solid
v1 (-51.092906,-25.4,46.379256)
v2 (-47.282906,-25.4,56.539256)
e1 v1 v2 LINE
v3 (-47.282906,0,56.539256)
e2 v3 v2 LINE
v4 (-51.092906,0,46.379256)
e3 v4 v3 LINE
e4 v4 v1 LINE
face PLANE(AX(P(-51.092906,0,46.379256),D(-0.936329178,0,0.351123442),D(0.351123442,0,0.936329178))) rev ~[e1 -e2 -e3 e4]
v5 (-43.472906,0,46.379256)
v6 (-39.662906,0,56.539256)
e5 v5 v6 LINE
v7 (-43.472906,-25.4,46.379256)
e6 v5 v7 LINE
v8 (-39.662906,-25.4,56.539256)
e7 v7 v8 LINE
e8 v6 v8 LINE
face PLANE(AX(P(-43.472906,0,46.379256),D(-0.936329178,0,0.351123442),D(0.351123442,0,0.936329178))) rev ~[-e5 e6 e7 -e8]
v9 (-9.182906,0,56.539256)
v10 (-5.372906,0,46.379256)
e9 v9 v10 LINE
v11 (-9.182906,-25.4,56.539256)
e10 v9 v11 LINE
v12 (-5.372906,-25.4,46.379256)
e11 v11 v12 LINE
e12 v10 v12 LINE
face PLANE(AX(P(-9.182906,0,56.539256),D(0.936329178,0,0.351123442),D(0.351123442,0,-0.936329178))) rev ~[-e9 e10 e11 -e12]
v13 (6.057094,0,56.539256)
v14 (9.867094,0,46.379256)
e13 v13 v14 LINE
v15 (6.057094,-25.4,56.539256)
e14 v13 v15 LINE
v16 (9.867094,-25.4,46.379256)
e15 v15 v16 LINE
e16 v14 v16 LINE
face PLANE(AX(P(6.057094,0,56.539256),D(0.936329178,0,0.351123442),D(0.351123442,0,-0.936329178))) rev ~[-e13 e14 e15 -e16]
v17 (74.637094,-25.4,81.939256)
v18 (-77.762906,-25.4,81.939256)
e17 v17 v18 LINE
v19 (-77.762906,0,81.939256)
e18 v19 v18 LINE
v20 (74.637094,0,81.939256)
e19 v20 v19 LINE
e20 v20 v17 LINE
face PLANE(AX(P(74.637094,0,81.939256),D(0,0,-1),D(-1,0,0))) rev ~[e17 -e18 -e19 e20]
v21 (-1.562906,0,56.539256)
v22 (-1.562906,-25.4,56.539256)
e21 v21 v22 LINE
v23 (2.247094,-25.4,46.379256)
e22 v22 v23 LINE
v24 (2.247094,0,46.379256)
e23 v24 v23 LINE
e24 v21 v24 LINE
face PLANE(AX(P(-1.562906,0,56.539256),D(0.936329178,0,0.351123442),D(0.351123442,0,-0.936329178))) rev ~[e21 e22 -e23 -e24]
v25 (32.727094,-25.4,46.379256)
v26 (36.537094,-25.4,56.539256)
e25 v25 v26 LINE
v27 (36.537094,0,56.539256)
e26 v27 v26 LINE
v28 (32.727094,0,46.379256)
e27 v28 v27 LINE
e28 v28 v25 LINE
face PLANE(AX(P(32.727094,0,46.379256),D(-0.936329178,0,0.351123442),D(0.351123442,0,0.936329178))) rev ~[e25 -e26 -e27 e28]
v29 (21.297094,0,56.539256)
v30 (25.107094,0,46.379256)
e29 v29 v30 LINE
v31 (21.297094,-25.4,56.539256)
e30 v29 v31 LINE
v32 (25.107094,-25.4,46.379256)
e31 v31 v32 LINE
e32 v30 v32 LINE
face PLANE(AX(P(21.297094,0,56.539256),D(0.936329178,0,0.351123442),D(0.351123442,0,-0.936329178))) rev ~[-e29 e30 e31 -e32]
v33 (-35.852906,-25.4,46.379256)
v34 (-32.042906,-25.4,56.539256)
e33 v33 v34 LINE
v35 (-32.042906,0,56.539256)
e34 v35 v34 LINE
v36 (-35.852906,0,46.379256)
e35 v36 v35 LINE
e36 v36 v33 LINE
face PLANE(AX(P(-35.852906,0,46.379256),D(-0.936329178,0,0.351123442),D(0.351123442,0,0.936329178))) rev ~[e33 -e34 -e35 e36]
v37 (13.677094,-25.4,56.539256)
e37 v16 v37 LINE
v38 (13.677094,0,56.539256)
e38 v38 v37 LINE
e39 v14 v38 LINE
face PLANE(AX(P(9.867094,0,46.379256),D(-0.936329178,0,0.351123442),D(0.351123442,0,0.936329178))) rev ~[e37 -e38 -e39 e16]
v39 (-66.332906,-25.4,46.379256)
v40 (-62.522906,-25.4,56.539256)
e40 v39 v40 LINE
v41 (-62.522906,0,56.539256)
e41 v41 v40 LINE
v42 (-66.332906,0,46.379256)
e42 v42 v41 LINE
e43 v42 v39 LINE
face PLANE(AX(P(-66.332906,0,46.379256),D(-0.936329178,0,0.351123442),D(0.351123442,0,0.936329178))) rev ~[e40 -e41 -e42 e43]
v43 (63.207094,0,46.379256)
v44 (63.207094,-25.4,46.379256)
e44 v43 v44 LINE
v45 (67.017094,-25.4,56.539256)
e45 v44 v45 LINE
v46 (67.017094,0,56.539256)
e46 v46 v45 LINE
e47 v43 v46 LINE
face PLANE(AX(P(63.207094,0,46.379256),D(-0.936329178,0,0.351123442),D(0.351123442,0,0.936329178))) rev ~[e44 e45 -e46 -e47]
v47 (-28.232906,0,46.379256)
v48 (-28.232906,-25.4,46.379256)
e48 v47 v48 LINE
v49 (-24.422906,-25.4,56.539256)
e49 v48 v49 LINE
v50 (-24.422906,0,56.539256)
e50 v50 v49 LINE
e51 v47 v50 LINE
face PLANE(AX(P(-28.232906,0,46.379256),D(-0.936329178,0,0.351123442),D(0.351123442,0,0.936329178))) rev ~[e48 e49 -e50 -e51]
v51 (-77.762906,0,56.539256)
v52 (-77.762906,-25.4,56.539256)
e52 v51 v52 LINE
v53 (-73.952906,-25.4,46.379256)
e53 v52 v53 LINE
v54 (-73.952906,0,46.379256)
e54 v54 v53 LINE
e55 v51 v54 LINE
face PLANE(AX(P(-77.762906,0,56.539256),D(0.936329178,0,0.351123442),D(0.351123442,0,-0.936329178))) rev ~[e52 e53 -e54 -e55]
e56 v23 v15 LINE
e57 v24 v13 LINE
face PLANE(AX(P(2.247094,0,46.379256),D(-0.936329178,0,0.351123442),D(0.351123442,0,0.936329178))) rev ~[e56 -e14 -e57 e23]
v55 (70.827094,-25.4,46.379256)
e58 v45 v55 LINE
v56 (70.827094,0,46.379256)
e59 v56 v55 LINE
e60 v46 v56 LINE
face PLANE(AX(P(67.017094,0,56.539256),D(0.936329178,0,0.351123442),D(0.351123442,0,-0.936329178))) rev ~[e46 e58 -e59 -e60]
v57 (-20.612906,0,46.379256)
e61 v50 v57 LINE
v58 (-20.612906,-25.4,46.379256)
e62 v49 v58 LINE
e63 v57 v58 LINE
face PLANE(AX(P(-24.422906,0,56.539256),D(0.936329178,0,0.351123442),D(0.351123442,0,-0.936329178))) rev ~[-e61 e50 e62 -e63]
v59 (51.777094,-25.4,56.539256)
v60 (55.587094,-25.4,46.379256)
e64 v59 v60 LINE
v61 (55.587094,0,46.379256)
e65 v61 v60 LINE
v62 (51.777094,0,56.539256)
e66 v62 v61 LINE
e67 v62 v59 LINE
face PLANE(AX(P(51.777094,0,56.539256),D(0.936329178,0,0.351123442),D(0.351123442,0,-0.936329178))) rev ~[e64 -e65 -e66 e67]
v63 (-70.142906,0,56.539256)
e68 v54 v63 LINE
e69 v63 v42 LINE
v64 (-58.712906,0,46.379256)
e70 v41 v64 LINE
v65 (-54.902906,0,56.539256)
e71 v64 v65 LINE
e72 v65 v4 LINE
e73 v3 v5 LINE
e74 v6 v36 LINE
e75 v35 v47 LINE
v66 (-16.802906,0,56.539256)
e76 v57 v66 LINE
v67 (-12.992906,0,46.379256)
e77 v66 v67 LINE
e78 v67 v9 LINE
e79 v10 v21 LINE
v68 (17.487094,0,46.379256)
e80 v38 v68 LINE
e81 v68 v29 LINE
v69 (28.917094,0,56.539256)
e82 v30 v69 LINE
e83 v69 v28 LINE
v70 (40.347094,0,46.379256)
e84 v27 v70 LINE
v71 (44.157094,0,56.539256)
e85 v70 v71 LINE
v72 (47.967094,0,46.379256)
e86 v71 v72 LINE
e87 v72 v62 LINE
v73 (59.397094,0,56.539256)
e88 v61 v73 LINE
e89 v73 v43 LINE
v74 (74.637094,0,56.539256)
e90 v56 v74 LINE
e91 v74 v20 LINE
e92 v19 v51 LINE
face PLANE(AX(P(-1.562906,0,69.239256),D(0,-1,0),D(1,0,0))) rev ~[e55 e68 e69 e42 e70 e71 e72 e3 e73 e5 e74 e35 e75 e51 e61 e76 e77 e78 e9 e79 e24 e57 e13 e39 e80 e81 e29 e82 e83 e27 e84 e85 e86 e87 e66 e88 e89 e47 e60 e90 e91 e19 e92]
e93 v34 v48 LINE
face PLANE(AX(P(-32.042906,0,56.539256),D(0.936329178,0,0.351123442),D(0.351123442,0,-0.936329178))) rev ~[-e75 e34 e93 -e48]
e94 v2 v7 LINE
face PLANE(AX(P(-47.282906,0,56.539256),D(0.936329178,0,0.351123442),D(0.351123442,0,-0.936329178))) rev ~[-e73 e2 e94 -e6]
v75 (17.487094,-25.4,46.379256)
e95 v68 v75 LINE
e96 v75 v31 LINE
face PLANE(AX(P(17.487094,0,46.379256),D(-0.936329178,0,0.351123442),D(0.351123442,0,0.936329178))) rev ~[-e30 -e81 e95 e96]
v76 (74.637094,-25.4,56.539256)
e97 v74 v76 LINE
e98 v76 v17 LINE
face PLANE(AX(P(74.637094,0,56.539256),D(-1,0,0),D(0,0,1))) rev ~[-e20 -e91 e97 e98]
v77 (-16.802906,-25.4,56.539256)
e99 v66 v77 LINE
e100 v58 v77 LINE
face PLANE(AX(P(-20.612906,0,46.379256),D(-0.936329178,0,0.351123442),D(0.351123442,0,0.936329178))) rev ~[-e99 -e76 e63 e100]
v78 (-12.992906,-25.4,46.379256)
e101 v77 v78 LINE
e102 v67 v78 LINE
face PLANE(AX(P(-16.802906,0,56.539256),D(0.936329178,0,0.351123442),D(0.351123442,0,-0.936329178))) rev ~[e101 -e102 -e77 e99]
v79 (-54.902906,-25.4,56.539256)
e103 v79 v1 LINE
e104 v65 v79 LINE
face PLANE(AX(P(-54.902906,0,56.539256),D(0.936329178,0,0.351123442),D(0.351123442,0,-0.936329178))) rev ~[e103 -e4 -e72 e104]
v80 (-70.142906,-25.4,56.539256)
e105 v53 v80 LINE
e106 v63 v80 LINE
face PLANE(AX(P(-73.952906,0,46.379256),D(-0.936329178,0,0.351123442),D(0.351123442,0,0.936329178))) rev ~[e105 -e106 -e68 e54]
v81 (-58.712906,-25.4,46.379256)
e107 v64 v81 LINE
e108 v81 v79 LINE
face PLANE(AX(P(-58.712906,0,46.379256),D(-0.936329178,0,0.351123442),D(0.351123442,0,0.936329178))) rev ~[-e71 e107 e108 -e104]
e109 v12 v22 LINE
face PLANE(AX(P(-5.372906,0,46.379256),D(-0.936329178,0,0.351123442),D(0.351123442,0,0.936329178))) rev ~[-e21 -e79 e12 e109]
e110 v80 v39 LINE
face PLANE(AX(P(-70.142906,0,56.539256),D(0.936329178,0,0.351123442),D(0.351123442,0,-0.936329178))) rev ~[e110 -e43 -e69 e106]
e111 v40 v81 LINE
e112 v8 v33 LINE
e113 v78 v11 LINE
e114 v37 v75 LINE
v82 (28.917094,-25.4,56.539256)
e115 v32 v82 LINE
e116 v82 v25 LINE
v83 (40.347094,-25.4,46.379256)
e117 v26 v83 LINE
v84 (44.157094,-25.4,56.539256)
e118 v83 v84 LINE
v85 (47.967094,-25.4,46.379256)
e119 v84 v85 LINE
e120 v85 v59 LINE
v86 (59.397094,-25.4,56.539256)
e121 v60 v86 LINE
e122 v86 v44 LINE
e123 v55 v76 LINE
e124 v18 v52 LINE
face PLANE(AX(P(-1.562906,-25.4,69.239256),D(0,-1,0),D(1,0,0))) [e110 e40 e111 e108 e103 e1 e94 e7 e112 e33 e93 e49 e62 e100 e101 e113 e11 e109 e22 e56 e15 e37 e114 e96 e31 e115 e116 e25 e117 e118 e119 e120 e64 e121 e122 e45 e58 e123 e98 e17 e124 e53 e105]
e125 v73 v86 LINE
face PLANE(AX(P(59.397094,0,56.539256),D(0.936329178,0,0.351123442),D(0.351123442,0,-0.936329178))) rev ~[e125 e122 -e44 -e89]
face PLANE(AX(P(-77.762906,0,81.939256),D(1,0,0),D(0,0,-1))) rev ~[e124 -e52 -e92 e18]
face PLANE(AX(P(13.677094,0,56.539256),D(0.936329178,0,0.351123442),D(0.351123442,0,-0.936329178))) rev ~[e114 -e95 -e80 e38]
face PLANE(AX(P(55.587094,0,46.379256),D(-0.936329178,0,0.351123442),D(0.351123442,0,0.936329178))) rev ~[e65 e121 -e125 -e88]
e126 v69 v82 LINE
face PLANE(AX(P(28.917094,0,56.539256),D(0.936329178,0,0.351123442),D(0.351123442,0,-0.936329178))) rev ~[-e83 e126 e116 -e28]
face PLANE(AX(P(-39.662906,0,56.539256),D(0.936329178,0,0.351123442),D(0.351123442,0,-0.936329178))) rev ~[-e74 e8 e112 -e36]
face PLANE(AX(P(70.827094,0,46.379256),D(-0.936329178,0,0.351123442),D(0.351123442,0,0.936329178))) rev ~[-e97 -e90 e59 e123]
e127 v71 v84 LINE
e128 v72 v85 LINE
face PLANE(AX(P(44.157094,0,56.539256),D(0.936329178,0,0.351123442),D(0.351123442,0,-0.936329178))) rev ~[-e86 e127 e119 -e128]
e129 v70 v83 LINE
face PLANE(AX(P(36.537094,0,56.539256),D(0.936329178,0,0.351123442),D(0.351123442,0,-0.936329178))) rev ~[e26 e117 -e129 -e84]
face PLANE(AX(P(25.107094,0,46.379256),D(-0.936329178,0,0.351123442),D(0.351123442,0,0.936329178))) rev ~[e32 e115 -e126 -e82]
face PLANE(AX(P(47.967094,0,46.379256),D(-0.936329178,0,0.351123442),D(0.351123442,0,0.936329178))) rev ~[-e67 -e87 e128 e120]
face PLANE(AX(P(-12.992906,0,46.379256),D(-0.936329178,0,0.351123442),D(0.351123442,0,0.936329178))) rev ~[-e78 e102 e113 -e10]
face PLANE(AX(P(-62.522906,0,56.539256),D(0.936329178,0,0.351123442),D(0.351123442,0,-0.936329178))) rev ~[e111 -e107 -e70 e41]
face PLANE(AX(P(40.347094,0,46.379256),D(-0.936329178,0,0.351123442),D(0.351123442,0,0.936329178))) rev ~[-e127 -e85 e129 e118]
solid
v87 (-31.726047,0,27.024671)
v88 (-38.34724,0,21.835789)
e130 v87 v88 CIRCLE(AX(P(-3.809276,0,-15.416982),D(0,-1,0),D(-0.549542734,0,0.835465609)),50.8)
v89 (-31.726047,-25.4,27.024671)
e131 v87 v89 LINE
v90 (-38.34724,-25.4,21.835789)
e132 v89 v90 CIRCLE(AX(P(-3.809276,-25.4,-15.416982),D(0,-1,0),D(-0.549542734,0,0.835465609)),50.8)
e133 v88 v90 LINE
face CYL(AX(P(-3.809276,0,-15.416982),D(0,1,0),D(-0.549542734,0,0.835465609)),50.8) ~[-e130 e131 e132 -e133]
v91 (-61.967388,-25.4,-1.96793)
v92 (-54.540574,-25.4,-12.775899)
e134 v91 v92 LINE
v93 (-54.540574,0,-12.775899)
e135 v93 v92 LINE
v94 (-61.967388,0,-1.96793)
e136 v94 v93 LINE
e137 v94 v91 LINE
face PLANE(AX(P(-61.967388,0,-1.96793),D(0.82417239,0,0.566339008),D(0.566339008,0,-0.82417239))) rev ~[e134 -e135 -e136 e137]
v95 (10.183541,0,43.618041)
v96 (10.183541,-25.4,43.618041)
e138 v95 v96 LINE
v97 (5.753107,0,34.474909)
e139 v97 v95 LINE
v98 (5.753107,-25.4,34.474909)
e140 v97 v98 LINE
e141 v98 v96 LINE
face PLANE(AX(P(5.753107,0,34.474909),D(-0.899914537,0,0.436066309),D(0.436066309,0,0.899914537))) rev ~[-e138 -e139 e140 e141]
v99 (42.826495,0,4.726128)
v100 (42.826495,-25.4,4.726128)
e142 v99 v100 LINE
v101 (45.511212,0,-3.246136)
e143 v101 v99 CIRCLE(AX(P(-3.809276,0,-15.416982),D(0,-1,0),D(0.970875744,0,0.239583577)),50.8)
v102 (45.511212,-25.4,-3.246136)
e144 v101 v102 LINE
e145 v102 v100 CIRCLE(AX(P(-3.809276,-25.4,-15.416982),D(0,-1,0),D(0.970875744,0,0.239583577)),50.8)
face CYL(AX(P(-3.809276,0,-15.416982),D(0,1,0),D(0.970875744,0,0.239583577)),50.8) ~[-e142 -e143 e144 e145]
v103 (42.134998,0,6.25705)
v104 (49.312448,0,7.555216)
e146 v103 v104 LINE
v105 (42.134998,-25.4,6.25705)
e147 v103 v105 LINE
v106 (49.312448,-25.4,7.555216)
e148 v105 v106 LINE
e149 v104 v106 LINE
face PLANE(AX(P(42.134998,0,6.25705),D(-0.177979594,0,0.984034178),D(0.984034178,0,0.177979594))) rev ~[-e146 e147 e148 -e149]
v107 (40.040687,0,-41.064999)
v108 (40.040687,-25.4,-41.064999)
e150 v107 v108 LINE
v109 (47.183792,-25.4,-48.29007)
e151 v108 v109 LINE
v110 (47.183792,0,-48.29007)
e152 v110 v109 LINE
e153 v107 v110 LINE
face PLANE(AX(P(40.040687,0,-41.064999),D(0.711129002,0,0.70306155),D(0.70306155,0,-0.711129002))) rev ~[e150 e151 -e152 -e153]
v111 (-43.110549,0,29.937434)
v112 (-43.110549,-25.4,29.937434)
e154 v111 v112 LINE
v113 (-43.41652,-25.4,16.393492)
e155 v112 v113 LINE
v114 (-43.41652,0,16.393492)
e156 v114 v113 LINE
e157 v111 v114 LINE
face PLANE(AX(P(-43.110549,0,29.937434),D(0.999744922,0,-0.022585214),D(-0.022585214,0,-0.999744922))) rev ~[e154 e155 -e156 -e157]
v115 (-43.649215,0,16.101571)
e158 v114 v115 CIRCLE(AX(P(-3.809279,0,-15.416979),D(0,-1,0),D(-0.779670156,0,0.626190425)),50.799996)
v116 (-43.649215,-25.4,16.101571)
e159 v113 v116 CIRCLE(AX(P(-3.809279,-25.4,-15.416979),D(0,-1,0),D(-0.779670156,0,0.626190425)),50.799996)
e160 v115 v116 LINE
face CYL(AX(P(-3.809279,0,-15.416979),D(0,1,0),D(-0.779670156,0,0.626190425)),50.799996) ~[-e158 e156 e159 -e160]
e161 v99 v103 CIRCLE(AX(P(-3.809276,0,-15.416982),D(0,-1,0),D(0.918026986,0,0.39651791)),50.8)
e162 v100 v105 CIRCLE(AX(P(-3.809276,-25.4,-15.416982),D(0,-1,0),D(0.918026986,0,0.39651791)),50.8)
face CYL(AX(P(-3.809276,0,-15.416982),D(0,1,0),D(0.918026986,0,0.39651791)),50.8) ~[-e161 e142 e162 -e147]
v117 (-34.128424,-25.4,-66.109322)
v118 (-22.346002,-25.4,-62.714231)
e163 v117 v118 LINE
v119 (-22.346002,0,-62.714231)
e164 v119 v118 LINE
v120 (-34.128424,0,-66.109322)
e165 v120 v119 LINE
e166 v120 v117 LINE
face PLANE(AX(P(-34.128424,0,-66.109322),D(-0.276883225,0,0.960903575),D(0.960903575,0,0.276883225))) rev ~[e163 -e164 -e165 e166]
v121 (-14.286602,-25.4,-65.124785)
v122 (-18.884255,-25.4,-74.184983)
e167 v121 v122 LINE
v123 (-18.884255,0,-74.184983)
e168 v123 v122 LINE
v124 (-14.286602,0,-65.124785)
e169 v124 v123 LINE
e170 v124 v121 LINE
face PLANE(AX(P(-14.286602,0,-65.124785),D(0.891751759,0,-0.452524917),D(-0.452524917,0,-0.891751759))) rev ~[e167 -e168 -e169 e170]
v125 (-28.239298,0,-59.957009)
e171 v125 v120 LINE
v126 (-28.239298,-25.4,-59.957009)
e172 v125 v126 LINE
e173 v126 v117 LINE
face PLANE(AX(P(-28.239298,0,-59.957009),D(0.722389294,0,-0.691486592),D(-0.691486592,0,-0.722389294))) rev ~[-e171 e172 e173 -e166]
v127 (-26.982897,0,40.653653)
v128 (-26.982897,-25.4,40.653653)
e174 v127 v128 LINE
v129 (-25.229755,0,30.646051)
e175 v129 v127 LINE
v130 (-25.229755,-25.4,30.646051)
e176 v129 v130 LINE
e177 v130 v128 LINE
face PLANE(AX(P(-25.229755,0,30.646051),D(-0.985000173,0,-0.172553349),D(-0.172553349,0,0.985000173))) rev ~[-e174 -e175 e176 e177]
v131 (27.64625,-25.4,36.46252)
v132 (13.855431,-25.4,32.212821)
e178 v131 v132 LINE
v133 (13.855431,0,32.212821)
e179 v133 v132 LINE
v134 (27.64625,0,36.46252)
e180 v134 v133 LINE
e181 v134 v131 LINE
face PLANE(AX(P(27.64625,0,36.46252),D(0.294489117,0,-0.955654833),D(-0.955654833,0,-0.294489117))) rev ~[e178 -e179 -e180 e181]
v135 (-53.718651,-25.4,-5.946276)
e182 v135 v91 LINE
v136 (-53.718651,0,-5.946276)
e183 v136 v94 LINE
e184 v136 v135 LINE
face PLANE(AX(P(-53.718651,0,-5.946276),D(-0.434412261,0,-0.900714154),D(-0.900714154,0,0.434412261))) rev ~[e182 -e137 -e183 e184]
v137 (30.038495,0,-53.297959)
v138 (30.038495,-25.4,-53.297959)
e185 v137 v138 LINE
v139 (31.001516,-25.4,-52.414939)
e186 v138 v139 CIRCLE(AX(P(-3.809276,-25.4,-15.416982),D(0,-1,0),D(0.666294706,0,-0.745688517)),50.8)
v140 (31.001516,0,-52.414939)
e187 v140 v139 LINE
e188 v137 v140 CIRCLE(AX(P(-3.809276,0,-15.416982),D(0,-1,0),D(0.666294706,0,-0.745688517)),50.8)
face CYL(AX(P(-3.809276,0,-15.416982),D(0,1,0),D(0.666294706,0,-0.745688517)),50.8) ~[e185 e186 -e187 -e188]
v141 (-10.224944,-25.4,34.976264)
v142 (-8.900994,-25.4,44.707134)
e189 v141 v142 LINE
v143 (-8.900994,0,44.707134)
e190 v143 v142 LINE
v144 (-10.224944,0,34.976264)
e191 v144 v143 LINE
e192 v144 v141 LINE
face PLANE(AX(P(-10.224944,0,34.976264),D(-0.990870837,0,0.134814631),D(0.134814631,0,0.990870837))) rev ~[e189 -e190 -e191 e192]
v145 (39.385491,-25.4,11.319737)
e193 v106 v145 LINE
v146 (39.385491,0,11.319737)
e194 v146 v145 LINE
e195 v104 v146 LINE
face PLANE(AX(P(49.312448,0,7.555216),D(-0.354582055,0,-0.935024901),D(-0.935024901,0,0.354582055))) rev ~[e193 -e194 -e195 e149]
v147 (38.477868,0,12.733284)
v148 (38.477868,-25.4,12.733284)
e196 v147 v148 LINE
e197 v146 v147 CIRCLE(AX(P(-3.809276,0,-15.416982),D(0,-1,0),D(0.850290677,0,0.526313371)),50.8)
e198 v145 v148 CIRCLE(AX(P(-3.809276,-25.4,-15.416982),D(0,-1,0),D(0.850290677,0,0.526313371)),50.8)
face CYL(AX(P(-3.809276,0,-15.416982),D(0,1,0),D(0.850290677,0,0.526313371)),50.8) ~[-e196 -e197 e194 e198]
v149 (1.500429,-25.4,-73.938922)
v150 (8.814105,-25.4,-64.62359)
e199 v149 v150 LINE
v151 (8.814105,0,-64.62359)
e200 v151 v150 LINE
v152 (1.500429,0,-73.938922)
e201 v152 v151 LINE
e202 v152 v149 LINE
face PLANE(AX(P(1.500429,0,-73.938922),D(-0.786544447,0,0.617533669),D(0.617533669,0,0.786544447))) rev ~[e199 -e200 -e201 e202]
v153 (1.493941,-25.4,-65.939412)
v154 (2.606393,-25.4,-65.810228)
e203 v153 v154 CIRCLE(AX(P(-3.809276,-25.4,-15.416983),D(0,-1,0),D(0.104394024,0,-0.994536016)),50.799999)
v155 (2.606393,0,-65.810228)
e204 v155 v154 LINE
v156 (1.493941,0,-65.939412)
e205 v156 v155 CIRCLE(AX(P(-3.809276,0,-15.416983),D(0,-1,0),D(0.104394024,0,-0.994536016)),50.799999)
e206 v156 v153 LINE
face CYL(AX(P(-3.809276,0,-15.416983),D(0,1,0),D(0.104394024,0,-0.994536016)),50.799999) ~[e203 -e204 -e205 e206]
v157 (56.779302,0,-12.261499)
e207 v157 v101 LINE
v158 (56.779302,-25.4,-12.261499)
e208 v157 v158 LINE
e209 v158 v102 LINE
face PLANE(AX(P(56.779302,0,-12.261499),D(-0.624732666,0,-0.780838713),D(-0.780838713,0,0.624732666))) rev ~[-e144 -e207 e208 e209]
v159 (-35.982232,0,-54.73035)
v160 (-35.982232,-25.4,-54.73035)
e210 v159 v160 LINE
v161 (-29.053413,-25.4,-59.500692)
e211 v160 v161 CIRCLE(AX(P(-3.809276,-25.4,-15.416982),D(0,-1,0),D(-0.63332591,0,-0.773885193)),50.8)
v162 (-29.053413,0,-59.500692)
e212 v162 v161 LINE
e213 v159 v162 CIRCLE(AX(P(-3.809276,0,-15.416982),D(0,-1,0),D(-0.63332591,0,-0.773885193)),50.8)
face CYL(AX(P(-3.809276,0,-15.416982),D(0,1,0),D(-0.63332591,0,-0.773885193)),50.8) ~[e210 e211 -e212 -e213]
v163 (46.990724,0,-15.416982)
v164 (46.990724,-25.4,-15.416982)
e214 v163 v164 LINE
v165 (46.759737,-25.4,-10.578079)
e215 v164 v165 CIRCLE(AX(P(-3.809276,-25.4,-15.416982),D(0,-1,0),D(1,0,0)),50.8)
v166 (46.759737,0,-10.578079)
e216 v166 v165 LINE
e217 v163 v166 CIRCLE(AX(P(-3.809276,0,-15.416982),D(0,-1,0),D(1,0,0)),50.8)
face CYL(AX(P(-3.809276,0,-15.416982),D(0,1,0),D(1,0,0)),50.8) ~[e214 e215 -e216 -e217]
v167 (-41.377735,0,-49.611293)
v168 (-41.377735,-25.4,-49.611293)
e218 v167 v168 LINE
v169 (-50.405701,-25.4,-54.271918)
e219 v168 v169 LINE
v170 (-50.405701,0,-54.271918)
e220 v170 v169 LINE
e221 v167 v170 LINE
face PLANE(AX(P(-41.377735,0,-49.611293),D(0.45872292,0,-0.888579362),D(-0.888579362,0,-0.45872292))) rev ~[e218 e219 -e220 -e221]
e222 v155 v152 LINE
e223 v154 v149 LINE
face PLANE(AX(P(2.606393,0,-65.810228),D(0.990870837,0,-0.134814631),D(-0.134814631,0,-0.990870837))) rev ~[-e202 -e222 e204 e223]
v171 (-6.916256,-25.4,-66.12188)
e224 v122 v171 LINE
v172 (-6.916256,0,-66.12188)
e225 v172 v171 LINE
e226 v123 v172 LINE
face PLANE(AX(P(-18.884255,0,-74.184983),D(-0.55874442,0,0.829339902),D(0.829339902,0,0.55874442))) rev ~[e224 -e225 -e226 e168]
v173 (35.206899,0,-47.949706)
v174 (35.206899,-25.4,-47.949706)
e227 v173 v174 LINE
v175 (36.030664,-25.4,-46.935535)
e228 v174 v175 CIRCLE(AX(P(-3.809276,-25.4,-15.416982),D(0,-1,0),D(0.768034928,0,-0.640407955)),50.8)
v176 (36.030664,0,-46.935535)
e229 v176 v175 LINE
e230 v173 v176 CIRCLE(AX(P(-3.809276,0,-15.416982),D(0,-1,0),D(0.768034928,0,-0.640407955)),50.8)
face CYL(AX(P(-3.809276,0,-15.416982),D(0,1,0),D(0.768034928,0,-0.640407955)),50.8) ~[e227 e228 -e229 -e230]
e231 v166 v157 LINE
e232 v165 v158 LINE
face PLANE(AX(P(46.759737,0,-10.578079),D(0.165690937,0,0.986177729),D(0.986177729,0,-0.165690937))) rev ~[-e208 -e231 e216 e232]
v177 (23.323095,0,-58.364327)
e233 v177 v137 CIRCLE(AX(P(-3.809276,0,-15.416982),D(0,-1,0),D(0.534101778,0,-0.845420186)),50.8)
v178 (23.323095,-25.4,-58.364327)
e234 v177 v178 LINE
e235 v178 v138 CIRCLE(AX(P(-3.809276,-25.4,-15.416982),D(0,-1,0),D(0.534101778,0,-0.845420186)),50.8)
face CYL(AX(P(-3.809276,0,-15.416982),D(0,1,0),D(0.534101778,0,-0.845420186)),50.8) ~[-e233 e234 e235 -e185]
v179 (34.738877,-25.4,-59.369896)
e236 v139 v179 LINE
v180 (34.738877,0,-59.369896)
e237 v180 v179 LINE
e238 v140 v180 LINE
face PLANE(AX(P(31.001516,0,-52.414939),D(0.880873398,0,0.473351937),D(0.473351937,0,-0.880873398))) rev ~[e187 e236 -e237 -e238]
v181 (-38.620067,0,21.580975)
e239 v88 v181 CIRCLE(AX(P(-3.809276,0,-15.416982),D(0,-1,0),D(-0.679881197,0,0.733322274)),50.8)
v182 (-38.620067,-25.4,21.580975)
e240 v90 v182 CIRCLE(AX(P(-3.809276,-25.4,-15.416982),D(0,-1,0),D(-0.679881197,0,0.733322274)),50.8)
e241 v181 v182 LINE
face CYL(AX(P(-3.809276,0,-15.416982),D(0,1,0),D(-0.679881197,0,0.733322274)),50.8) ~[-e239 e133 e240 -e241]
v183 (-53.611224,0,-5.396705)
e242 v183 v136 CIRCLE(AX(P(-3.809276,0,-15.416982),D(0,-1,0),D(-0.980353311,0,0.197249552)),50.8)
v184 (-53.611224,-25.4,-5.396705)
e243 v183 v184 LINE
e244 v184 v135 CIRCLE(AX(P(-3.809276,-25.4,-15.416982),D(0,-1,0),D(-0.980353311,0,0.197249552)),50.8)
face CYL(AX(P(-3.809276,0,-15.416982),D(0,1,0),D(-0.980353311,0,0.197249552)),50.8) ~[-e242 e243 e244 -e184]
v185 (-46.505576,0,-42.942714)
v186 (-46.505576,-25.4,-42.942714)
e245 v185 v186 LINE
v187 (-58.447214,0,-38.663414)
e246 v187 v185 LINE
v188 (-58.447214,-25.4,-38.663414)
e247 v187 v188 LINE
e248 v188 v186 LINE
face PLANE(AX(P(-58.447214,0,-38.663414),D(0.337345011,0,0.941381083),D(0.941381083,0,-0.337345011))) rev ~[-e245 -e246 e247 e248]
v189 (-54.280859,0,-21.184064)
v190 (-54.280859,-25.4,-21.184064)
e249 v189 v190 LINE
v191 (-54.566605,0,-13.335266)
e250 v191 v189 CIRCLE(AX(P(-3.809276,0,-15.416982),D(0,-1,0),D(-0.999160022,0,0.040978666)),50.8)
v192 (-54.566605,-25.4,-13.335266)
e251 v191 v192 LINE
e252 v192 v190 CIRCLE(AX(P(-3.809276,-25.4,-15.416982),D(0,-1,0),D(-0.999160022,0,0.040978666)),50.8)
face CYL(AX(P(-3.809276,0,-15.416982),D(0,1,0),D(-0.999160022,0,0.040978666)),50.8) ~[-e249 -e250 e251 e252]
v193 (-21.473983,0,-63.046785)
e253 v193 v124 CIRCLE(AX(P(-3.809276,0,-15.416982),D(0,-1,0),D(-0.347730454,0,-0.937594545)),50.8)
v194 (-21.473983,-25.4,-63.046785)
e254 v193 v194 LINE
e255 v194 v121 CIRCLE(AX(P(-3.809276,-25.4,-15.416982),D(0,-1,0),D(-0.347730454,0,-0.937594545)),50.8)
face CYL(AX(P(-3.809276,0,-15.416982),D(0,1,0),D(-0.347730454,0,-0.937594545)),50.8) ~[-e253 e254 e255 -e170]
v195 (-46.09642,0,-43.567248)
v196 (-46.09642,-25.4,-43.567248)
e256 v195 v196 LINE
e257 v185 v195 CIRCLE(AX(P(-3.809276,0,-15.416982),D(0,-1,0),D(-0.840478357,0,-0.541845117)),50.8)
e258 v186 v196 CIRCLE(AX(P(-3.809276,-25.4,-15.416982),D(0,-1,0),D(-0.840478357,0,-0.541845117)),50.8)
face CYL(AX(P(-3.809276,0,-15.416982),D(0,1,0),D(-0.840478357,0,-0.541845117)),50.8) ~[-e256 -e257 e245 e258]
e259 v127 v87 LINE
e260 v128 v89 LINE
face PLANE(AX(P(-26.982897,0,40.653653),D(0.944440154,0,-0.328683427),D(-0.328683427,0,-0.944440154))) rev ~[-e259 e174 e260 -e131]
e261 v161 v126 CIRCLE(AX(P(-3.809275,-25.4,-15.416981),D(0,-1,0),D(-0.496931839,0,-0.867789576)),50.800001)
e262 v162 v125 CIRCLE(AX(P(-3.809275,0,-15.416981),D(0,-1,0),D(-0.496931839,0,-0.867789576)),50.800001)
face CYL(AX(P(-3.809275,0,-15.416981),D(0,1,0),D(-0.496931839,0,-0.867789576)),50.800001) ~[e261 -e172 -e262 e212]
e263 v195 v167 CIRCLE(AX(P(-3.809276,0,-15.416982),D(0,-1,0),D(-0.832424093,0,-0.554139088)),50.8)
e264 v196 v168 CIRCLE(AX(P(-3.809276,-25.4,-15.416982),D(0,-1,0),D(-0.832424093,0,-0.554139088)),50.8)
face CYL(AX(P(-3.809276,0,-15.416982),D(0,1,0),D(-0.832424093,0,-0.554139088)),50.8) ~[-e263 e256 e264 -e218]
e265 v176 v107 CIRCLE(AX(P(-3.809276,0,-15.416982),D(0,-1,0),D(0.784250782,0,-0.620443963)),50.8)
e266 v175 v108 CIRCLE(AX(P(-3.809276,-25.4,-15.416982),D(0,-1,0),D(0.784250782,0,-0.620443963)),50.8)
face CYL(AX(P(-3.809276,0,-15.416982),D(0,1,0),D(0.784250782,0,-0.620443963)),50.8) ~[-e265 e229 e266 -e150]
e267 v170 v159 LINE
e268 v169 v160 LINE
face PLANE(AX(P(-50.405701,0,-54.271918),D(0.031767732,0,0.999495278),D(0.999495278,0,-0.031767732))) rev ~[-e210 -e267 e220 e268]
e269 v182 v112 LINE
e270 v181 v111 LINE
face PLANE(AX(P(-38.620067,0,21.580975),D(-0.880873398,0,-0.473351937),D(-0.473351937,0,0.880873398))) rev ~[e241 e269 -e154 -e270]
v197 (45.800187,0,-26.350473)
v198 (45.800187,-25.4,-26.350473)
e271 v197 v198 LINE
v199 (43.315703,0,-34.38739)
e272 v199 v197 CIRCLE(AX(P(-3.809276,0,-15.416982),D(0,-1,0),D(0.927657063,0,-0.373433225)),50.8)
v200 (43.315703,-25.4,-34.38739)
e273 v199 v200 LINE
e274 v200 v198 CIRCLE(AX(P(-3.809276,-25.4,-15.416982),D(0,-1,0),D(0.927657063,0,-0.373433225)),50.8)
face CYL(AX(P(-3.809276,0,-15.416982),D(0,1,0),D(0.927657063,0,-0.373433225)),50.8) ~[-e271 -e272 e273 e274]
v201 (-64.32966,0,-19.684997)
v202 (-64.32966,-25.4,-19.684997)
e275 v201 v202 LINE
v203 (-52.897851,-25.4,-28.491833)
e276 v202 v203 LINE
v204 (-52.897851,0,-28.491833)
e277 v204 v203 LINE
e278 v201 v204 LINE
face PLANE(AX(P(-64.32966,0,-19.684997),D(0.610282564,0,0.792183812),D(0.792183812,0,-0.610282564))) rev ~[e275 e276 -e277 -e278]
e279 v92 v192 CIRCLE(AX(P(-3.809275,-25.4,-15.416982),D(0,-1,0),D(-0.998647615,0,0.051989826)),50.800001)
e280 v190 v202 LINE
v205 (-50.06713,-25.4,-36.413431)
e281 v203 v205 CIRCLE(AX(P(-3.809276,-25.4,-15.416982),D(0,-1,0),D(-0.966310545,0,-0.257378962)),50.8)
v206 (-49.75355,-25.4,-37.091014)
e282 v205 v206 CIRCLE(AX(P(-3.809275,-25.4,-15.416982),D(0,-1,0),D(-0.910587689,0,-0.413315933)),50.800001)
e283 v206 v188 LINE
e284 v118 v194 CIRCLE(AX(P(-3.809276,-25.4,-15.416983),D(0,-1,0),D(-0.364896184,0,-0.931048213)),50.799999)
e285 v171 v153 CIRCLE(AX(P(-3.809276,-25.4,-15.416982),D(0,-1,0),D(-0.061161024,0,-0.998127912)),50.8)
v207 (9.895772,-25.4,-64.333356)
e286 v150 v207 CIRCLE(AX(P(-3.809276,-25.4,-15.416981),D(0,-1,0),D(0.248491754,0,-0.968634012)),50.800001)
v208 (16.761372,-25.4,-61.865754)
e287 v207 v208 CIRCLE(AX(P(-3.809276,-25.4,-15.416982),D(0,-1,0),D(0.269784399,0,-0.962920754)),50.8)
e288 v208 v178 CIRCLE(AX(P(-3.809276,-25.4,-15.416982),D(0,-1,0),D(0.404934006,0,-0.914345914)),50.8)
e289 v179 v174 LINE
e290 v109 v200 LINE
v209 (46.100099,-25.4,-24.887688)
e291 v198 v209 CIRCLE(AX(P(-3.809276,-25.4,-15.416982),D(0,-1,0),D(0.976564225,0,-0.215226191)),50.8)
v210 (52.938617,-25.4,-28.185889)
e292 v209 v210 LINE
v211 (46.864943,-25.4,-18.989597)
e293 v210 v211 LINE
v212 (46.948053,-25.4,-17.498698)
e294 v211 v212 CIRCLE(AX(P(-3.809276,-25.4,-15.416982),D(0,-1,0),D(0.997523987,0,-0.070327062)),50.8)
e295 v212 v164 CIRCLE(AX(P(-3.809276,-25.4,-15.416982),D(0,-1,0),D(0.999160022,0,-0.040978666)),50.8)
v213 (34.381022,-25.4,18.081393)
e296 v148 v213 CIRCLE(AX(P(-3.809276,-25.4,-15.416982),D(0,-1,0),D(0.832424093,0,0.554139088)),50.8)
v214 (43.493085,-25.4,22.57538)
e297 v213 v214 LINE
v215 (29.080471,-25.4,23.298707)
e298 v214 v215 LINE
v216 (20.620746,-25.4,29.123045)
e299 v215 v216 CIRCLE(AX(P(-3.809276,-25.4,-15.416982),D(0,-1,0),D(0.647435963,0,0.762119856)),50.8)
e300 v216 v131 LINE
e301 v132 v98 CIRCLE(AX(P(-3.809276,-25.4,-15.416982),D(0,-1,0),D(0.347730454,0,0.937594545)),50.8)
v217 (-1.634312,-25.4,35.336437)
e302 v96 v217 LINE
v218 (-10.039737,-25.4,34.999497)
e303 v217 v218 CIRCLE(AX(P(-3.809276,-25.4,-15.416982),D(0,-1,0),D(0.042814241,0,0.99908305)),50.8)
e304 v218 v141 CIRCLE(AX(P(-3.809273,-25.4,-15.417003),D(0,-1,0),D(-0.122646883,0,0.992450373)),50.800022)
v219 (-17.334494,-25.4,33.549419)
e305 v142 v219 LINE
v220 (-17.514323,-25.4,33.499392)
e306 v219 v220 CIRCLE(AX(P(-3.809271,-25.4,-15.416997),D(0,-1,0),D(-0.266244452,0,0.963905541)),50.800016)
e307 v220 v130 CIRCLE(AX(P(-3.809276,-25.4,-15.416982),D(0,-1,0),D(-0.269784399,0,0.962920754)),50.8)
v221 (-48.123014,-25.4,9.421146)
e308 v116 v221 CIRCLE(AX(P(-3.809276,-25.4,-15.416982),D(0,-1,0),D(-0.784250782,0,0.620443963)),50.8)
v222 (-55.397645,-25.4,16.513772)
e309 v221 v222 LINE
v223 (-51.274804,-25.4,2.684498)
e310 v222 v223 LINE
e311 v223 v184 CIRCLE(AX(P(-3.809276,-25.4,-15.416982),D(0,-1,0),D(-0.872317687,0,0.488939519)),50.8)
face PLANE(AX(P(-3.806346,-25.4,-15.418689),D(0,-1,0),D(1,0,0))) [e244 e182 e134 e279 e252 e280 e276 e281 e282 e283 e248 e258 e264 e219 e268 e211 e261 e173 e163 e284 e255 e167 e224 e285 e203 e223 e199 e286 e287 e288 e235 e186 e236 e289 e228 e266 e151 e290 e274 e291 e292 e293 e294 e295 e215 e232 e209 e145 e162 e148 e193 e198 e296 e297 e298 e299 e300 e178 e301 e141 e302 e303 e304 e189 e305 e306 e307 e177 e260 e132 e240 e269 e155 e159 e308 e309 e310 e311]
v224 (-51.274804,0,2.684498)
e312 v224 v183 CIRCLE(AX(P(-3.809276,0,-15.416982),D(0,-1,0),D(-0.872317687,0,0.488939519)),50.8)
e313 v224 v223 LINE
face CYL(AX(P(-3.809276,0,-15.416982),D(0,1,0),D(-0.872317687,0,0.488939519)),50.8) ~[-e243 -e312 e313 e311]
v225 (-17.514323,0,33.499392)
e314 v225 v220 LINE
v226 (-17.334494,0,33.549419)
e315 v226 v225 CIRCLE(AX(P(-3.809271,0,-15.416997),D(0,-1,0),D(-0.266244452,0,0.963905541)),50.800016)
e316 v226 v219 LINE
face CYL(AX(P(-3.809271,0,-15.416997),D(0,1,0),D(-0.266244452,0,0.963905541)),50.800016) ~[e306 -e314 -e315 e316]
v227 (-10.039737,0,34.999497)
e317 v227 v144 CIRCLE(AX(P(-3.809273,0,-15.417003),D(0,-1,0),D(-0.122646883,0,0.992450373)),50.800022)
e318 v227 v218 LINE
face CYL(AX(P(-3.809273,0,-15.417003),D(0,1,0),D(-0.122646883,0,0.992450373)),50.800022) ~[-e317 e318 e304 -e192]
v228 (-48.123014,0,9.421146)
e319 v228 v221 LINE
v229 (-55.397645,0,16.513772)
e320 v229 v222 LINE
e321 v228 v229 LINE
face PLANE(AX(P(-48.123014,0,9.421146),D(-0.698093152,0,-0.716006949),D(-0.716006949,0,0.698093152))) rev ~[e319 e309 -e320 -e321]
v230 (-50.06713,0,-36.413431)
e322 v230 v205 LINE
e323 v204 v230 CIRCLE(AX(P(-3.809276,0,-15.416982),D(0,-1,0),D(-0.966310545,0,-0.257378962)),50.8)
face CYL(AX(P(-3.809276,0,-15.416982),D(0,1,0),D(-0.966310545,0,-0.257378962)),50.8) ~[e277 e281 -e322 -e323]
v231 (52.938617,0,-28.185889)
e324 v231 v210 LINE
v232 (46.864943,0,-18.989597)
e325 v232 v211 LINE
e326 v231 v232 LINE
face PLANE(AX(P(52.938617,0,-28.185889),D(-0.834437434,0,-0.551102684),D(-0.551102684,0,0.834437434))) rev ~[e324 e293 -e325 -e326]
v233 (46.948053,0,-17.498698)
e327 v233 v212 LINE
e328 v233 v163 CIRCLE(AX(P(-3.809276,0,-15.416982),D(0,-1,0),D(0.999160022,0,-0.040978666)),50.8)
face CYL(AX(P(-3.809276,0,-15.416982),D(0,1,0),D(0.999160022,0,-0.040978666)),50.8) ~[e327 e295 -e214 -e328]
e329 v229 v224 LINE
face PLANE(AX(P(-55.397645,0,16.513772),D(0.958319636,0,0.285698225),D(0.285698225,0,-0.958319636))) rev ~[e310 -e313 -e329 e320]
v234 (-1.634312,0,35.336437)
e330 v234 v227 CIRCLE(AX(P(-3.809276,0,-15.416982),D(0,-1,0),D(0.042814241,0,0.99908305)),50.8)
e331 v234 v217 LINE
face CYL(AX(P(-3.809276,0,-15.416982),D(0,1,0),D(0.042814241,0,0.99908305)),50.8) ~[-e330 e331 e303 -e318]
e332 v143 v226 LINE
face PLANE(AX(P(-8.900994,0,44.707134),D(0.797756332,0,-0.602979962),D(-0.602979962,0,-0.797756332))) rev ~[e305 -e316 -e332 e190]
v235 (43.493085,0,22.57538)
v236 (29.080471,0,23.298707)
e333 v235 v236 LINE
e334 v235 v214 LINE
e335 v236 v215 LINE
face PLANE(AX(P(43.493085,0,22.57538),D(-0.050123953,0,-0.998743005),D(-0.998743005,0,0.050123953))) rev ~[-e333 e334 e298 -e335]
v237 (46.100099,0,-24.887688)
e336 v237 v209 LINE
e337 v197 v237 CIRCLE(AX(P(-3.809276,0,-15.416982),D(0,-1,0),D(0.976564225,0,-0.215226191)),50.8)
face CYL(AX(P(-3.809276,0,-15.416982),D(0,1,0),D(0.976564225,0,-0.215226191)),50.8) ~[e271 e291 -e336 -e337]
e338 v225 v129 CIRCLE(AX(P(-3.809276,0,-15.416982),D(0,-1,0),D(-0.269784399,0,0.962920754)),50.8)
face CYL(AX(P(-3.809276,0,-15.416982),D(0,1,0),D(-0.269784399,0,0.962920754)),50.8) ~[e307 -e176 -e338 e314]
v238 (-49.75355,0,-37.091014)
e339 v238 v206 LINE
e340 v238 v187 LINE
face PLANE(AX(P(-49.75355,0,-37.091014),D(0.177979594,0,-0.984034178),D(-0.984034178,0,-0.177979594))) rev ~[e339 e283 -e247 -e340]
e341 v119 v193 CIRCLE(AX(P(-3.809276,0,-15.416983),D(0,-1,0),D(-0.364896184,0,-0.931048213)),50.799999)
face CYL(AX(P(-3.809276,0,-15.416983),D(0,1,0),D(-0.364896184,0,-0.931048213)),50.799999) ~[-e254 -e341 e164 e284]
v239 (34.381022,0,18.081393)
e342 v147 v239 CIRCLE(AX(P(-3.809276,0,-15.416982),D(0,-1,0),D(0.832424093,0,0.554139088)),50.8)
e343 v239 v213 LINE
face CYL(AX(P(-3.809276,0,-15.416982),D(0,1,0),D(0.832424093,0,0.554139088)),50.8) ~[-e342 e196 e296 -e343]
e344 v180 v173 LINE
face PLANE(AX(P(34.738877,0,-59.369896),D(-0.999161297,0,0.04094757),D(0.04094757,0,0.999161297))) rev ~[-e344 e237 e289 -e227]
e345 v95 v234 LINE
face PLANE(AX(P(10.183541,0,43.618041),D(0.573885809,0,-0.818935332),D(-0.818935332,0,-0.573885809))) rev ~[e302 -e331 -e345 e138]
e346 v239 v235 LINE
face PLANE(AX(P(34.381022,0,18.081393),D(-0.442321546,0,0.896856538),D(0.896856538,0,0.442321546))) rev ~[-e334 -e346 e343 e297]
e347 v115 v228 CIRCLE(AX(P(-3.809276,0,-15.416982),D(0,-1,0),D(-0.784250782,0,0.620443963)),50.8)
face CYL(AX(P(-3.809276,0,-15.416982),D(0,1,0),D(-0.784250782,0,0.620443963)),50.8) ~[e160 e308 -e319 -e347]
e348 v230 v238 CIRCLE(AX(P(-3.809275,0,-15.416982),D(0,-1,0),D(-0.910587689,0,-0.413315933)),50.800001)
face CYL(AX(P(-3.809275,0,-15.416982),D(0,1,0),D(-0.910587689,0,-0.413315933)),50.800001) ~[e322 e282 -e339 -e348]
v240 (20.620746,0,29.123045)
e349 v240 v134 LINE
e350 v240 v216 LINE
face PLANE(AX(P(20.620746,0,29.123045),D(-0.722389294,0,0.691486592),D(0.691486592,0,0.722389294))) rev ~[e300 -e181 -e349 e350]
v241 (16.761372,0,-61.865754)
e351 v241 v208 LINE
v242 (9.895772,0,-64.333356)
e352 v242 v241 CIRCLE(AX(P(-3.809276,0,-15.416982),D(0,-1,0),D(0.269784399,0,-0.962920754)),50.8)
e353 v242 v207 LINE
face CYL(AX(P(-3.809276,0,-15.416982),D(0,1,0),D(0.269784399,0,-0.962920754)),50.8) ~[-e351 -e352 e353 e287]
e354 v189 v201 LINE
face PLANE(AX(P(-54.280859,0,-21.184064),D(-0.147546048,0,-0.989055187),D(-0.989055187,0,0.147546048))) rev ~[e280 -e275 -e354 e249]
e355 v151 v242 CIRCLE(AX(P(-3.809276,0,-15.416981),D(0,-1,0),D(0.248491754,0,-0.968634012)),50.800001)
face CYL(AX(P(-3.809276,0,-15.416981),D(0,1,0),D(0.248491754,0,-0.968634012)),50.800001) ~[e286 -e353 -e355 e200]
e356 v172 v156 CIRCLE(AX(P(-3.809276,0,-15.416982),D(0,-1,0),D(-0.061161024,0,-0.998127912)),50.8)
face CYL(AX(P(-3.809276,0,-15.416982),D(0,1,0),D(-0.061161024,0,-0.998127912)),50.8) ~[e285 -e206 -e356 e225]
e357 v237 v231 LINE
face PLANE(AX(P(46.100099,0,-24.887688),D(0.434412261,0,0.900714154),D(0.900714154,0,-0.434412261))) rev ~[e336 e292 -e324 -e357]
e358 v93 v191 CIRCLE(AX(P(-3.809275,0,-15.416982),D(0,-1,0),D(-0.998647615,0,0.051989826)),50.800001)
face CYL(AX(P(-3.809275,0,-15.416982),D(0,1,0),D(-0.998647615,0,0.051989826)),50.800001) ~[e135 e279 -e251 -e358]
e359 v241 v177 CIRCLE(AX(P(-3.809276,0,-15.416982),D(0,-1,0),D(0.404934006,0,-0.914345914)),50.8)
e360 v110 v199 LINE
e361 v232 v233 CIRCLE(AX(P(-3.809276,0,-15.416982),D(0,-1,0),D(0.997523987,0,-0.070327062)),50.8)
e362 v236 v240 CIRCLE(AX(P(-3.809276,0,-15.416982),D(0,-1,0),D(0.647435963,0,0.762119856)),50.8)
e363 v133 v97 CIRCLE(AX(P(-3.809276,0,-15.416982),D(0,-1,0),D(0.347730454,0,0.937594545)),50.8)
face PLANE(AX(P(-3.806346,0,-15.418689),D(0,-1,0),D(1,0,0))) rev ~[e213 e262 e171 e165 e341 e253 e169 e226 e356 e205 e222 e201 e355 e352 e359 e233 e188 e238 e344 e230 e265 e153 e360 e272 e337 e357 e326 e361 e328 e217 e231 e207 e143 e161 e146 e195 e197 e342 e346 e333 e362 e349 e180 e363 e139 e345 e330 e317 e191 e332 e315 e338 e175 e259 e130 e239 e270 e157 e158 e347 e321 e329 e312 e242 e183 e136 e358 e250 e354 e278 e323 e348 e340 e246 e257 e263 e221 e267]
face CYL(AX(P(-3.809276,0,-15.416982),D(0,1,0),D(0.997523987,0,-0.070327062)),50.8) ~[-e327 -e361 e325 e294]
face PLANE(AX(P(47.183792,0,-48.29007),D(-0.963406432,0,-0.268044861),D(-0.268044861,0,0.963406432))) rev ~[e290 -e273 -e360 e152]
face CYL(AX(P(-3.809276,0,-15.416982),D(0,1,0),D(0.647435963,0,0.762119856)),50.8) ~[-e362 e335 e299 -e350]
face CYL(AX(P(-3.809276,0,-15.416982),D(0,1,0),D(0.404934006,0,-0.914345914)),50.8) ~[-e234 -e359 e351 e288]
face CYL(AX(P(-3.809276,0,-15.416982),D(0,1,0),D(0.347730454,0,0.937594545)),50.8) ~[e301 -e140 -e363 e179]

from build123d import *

# Parameters (mm, degrees)
F1_DEPTH = 25.4
F3_DEPTH = 25.4


with BuildPart() as f1:
    # F0 (on Front) → F1 (new body)
    with BuildSketch(Plane.XZ):
        Polygon((74.6370935708, 81.9392564637), (-77.7629064292, 81.9392564637), (-77.7629064292, 56.5392564637), (-70.1429064292, 56.5392564637), (-62.5229064292, 56.5392564637), (-54.9029064292, 56.5392564637), (-47.2829064292, 56.5392564637), (-39.6629064292, 56.5392564637), (-32.0429064292, 56.5392564637), (-24.4229064292, 56.5392564637), (-16.8029064292, 56.5392564637), (-9.1829064292, 56.5392564637), (-1.5629064292, 56.5392564637), (6.0570935708, 56.5392564637), (13.6770935708, 56.5392564637), (21.2970935708, 56.5392564637), (28.9170935708, 56.5392564637), (36.5370935708, 56.5392564637), (44.1570935708, 56.5392564637), (51.7770935708, 56.5392564637), (59.3970935708, 56.5392564637), (67.0170935708, 56.5392564637), (74.6370935708, 56.5392564637), align=None)
        Polygon((-70.1429064292, 56.5392564637), (-77.7629064292, 56.5392564637), (-73.9529064292, 46.3792564637), align=None)
        Polygon((-62.5229064292, 56.5392564637), (-70.1429064292, 56.5392564637), (-66.3329064292, 46.3792564637), align=None)
        Polygon((-54.9029064292, 56.5392564637), (-62.5229064292, 56.5392564637), (-58.7129064292, 46.3792564637), align=None)
        Polygon((-47.2829064292, 56.5392564637), (-54.9029064292, 56.5392564637), (-51.0929064292, 46.3792564637), align=None)
        Polygon((-39.6629064292, 56.5392564637), (-47.2829064292, 56.5392564637), (-43.4729064292, 46.3792564637), align=None)
        Polygon((-32.0429064292, 56.5392564637), (-39.6629064292, 56.5392564637), (-35.8529064292, 46.3792564637), align=None)
        Polygon((-24.4229064292, 56.5392564637), (-32.0429064292, 56.5392564637), (-28.2329064292, 46.3792564637), align=None)
        Polygon((-16.8029064292, 56.5392564637), (-24.4229064292, 56.5392564637), (-20.6129064292, 46.3792564637), align=None)
        Polygon((-9.1829064292, 56.5392564637), (-16.8029064292, 56.5392564637), (-12.9929064292, 46.3792564637), align=None)
        Polygon((-1.5629064292, 56.5392564637), (-9.1829064292, 56.5392564637), (-5.3729064292, 46.3792564637), align=None)
        Polygon((2.2470935708, 46.3792564637), (6.0570935708, 56.5392564637), (-1.5629064292, 56.5392564637), align=None)
        Polygon((9.8670935708, 46.3792564637), (13.6770935708, 56.5392564637), (6.0570935708, 56.5392564637), align=None)
        Polygon((17.4870935708, 46.3792564637), (21.2970935708, 56.5392564637), (13.6770935708, 56.5392564637), align=None)
        Polygon((25.1070935708, 46.3792564637), (28.9170935708, 56.5392564637), (21.2970935708, 56.5392564637), align=None)
        Polygon((32.7270935708, 46.3792564637), (36.5370935708, 56.5392564637), (28.9170935708, 56.5392564637), align=None)
        Polygon((40.3470935708, 46.3792564637), (44.1570935708, 56.5392564637), (36.5370935708, 56.5392564637), align=None)
        Polygon((47.9670935708, 46.3792564637), (51.7770935708, 56.5392564637), (44.1570935708, 56.5392564637), align=None)
        Polygon((55.5870935708, 46.3792564637), (59.3970935708, 56.5392564637), (51.7770935708, 56.5392564637), align=None)
        Polygon((63.2070935708, 46.3792564637), (67.0170935708, 56.5392564637), (59.3970935708, 56.5392564637), align=None)
        Polygon((70.8270935708, 46.3792564637), (74.6370935708, 56.5392564637), (67.0170935708, 56.5392564637), align=None)
    extrude(amount=F1_DEPTH)


with BuildPart() as f3:
    # F2 (on Front) → F3 (new body)
    with BuildSketch(Plane.XZ):
        with BuildLine():
            ThreePointArc((46.9480534398, -17.4986982738), (46.9800554936, -16.4580587956), (46.9907243386, -15.4169820306))
            ThreePointArc((46.9907243386, -15.4169820306), (46.9329445852, -12.994775505), (46.7597367618, -10.578078999))
            ThreePointArc((46.7597367618, -10.578078999), (46.2698358354, -6.8892278306), (45.5112121118, -3.2461362992))
            ThreePointArc((45.5112121118, -3.2461362992), (44.3341573591, 0.7956629421), (42.826495232, 4.7261277885))
            ThreePointArc((42.826495232, 4.7261277885), (42.4870752898, 5.494447586), (42.1349983875, 6.2570504075))
            ThreePointArc((42.1349983875, 6.2570504075), (40.8320710006, 8.8274022307), (39.3854907226, 11.3197372341))
            ThreePointArc((39.3854907226, 11.3197372341), (38.9375227741, 12.0302623396), (38.4778682778, 12.7332836426))
            ThreePointArc((38.4778682778, 12.7332836426), (36.5181991741, 15.4753272615), (34.3810221384, 18.0813933624))
            ThreePointArc((34.3810221384, 18.0813933624), (31.8263564811, 20.7871851578), (29.0804712423, 23.298706632))
            ThreePointArc((29.0804712423, 23.298706632), (24.9981834999, 26.4252250895), (20.6207462136, 29.1230452617))
            ThreePointArc((20.6207462136, 29.1230452617), (17.2947104492, 30.791910731), (13.8554314182, 32.2128208642))
            ThreePointArc((13.8554314182, 32.2128208642), (9.8511734607, 33.5118655932), (5.7531073775, 34.474909401))
            ThreePointArc((5.7531073775, 34.474909401), (2.0751855008, 35.0410511934), (-1.634312193, 35.3364369076))
            ThreePointArc((-1.634312193, 35.3364369076), (-5.8440111349, 35.34225212), (-10.0397372769, 34.999496903))
            ThreePointArc((-10.0397372769, 34.999496903), (-10.1323512948, 34.9879652914), (-10.2249439707, 34.97626355))
            ThreePointArc((-10.2249439707, 34.97626355), (-13.8052102972, 34.3898577684), (-17.334493814, 33.5494194497))
            ThreePointArc((-17.334493814, 33.5494194497), (-17.4244314566, 33.5244884487), (-17.5143231445, 33.4993922575))
            ThreePointArc((-17.5143231445, 33.4993922575), (-21.4298900664, 32.2291505301), (-25.2297552809, 30.6460514439))
            ThreePointArc((-25.2297552809, 30.6460514439), (-28.5442644734, 28.9544088477), (-31.726046563, 27.0246708876))
            ThreePointArc((-31.726046563, 27.0246708876), (-35.1442341994, 24.5675196347), (-38.3472404972, 21.835789477))
            ThreePointArc((-38.3472404972, 21.835789477), (-38.4838877808, 21.7086327706), (-38.6200669213, 21.58097483))
            ThreePointArc((-38.6200669213, 21.58097483), (-41.1085851227, 19.0707188744), (-43.4165195955, 16.3934915268))
            ThreePointArc((-43.4165195955, 16.3934915268), (-43.5331356474, 16.2477451562), (-43.649215386, 16.1015712791))
            ThreePointArc((-43.649215386, 16.1015712791), (-46.0184856872, 12.8500055874), (-48.1230141454, 9.4211455471))
            ThreePointArc((-48.1230141454, 9.4211455471), (-49.8223615512, 6.1105799981), (-51.2748043139, 2.6844982884))
            ThreePointArc((-51.2748043139, 2.6844982884), (-52.6105766053, -1.307657944), (-53.6112238557, -5.3967047862))
            ThreePointArc((-53.6112238557, -5.3967047862), (-53.6656945721, -5.6713423183), (-53.7186507859, -5.9462758964))
            ThreePointArc((-53.7186507859, -5.9462758964), (-54.2453465852, -9.3471591532), (-54.5405744779, -12.7758988463))
            ThreePointArc((-54.5405744779, -12.7758988463), (-54.5543603691, -13.0555464498), (-54.5666047625, -13.3352657873))
            ThreePointArc((-54.5666047625, -13.3352657873), (-54.57564353, -17.2651956068), (-54.2808593624, -21.1840643696))
            ThreePointArc((-54.2808593624, -21.1840643696), (-53.723273767, -24.8632931154), (-52.8978513671, -28.4918332794))
            ThreePointArc((-52.8978513671, -28.4918332794), (-51.6467439509, -32.511326933), (-50.0671302611, -36.4134314407))
            ThreePointArc((-50.0671302611, -36.4134314407), (-49.9115848391, -36.7527990639), (-49.7535497102, -37.0910144686))
            ThreePointArc((-49.7535497102, -37.0910144686), (-48.2260344731, -40.0704105276), (-46.5055762176, -42.9427139702))
            ThreePointArc((-46.5055762176, -42.9427139702), (-46.3021453005, -43.2557325383), (-46.0964196005, -43.5672477037))
            ThreePointArc((-46.0964196005, -43.5672477037), (-43.8512780464, -46.678428654), (-41.3777347859, -49.6112926539))
            ThreePointArc((-41.3777347859, -49.6112926539), (-38.7737925456, -52.2696964361), (-35.982231905, -54.7303498148))
            ThreePointArc((-35.982231905, -54.7303498148), (-32.6167348226, -57.2591891506), (-29.0534130767, -59.5006924705))
            ThreePointArc((-29.0534130767, -59.5006924705), (-28.647403239, -59.7307205146), (-28.2392975363, -59.9570093228))
            ThreePointArc((-28.2392975363, -59.9570093228), (-25.33683769, -61.4300679204), (-22.3460017993, -62.7142312538))
            ThreePointArc((-22.3460017993, -62.7142312538), (-21.9107559803, -62.8825106831), (-21.4739827409, -63.0467849253))
            ThreePointArc((-21.4739827409, -63.0467849253), (-17.9185997479, -64.2182829745), (-14.2866015905, -65.1247846512))
            ThreePointArc((-14.2866015905, -65.1247846512), (-10.6197009017, -65.758397466), (-6.9162557044, -66.1218799696))
            ThreePointArc((-6.9162557044, -66.1218799696), (-2.7073740148, -66.2050299627), (1.4939407692, -65.9394116583))
            ThreePointArc((1.4939407692, -65.9394116583), (2.0505227154, -65.8778853418), (2.6063926479, -65.8102276111))
            ThreePointArc((2.6063926479, -65.8102276111), (5.7287208626, -65.3135412537), (8.8141054153, -64.6235898205))
            ThreePointArc((8.8141054153, -64.6235898205), (9.3557384472, -64.4814539376), (9.8957718218, -64.3333563186))
            ThreePointArc((9.8957718218, -64.3333563186), (13.3729267983, -63.2229640687), (16.7613718388, -61.8657544732))
            ThreePointArc((16.7613718388, -61.8657544732), (20.1063985982, -60.2352877182), (23.3230946686, -58.3643274698))
            ThreePointArc((23.3230946686, -58.3643274698), (26.7858454227, -55.9703859056), (30.0384954006, -53.2979587093))
            ThreePointArc((30.0384954006, -53.2979587093), (30.5228445182, -52.8595450301), (31.0015155986, -52.4149388911))
            ThreePointArc((31.0015155986, -52.4149388911), (33.1716625099, -50.245852411), (35.2068986733, -47.9497061755))
            ThreePointArc((35.2068986733, -47.9497061755), (35.6220420538, -47.4452692661), (36.0306640633, -46.9355353402))
            ThreePointArc((36.0306640633, -46.9355353402), (38.1384982401, -44.0705030134), (40.0406869086, -41.0649991589))
            ThreePointArc((40.0406869086, -41.0649991589), (41.8005654496, -37.7862107575), (43.3157031451, -34.3873898408))
            ThreePointArc((43.3157031451, -34.3873898408), (44.7245893306, -30.4204465951), (45.8001869934, -26.3504725576))
            ThreePointArc((45.8001869934, -26.3504725576), (45.9555181469, -25.6201823726), (46.1000994632, -24.8876881647))
            ThreePointArc((46.1000994632, -24.8876881647), (46.5689110749, -21.9498451979), (46.8649428721, -18.9895967623))
            ThreePointArc((46.8649428721, -18.9895967623), (46.9119763782, -18.2444529031), (46.9480534398, -17.4986982738))
        make_face()
        with BuildLine():
            ThreePointArc((-51.2748043139, 2.6844982884), (-49.8223615512, 6.1105799981), (-48.1230141454, 9.4211455471))
            Line((-48.1230141454, 9.4211455471), (-55.3976447468, 16.5137719727))
            Line((-55.3976447468, 16.5137719727), (-51.2748043139, 2.6844982884))
        make_face()
        with BuildLine():
            ThreePointArc((-43.4165195955, 16.3934915268), (-41.1085851227, 19.0707188744), (-38.6200669213, 21.58097483))
            Line((-38.6200669213, 21.58097483), (-43.1105487158, 29.9374336224))
            Line((-43.1105487158, 29.9374336224), (-43.4165195955, 16.3934915268))
        make_face()
        with BuildLine():
            ThreePointArc((-31.726046563, 27.0246708876), (-28.5442644734, 28.9544088477), (-25.2297552809, 30.6460514439))
            Line((-25.2297552809, 30.6460514439), (-26.9828973096, 40.6536532059))
            Line((-26.9828973096, 40.6536532059), (-31.726046563, 27.0246708876))
        make_face()
        with BuildLine():
            ThreePointArc((-17.334493814, 33.5494194497), (-13.8052102972, 34.3898577684), (-10.2249439707, 34.97626355))
            Line((-10.2249439707, 34.97626355), (-8.900993754, 44.7071336272))
            Line((-8.900993754, 44.7071336272), (-17.334493814, 33.5494194497))
        make_face()
        with BuildLine():
            ThreePointArc((-1.634312193, 35.3364369076), (2.0751855008, 35.0410511934), (5.7531073775, 34.474909401))
            Line((5.7531073775, 34.474909401), (10.1835410763, 43.6180410986))
            Line((10.1835410763, 43.6180410986), (-1.634312193, 35.3364369076))
        make_face()
        with BuildLine():
            ThreePointArc((13.8554314182, 32.2128208642), (17.2947104492, 30.791910731), (20.6207462136, 29.1230452617))
            Line((20.6207462136, 29.1230452617), (27.6462499924, 36.4625204918))
            Line((27.6462499924, 36.4625204918), (13.8554314182, 32.2128208642))
        make_face()
        with BuildLine():
            ThreePointArc((29.0804712423, 23.298706632), (31.8263564811, 20.7871851578), (34.3810221384, 18.0813933624))
            Line((34.3810221384, 18.0813933624), (43.4930845668, 22.5753802672))
            Line((43.4930845668, 22.5753802672), (29.0804712423, 23.298706632))
        make_face()
        with BuildLine():
            ThreePointArc((39.3854907226, 11.3197372341), (40.8320710006, 8.8274022307), (42.1349983875, 6.2570504075))
            Line((42.1349983875, 6.2570504075), (49.3124478734, 7.5552162406))
            Line((49.3124478734, 7.5552162406), (39.3854907226, 11.3197372341))
        make_face()
        with BuildLine():
            ThreePointArc((45.5112121118, -3.2461362992), (46.2698358354, -6.8892278306), (46.7597367618, -10.578078999))
            Line((46.7597367618, -10.578078999), (56.7793024902, -12.2614989151))
            Line((56.7793024902, -12.2614989151), (45.5112121118, -3.2461362992))
        make_face()
        with BuildLine():
            Line((52.9386171528, -28.1858887303), (46.8649428721, -18.9895967623))
            ThreePointArc((46.8649428721, -18.9895967623), (46.5689110749, -21.9498451979), (46.1000994632, -24.8876881647))
            Line((46.1000994632, -24.8876881647), (52.9386171528, -28.1858887303))
        make_face()
        with BuildLine():
            Line((47.1837922551, -48.2900698166), (43.3157031451, -34.3873898408))
            ThreePointArc((43.3157031451, -34.3873898408), (41.8005654496, -37.7862107575), (40.0406869086, -41.0649991589))
            Line((40.0406869086, -41.0649991589), (47.1837922551, -48.2900698166))
        make_face()
        with BuildLine():
            Line((34.7388771247, -59.3698958456), (35.2068986733, -47.9497061755))
            ThreePointArc((35.2068986733, -47.9497061755), (33.1716625099, -50.245852411), (31.0015155986, -52.4149388911))
            Line((31.0015155986, -52.4149388911), (34.7388771247, -59.3698958456))
        make_face()
        with BuildLine():
            Line((1.5004291482, -73.9389223239), (8.8141054153, -64.6235898205))
            ThreePointArc((8.8141054153, -64.6235898205), (5.7287208626, -65.3135412537), (2.6063926479, -65.8102276111))
            Line((2.6063926479, -65.8102276111), (1.5004291482, -73.9389223239))
        make_face()
        with BuildLine():
            Line((-18.8842547484, -74.184982521), (-6.9162557044, -66.1218799696))
            ThreePointArc((-6.9162557044, -66.1218799696), (-10.6197009017, -65.758397466), (-14.2866015905, -65.1247846512))
            Line((-14.2866015905, -65.1247846512), (-18.8842547484, -74.184982521))
        make_face()
        with BuildLine():
            Line((-34.1284239582, -66.1093222189), (-22.3460017993, -62.7142312538))
            ThreePointArc((-22.3460017993, -62.7142312538), (-25.33683769, -61.4300679204), (-28.2392975363, -59.9570093228))
            Line((-28.2392975363, -59.9570093228), (-34.1284239582, -66.1093222189))
        make_face()
        with BuildLine():
            Line((-50.4057011031, -54.2719175237), (-35.982231905, -54.7303498148))
            ThreePointArc((-35.982231905, -54.7303498148), (-38.7737925456, -52.2696964361), (-41.3777347859, -49.6112926539))
            Line((-41.3777347859, -49.6112926539), (-50.4057011031, -54.2719175237))
        make_face()
        with BuildLine():
            Line((-58.4472142791, -38.6634140139), (-46.5055762176, -42.9427139702))
            ThreePointArc((-46.5055762176, -42.9427139702), (-48.2260344731, -40.0704105276), (-49.7535497102, -37.0910144686))
            Line((-49.7535497102, -37.0910144686), (-58.4472142791, -38.6634140139))
        make_face()
        with BuildLine():
            ThreePointArc((-52.8978513671, -28.4918332794), (-53.723273767, -24.8632931154), (-54.2808593624, -21.1840643696))
            Line((-54.2808593624, -21.1840643696), (-64.3296600658, -19.6849965176))
            Line((-64.3296600658, -19.6849965176), (-52.8978513671, -28.4918332794))
        make_face()
        with BuildLine():
            ThreePointArc((-54.5405744779, -12.7758988463), (-54.2453465852, -9.3471591532), (-53.7186507859, -5.9462758964))
            Line((-53.7186507859, -5.9462758964), (-61.9673876205, -1.967930043))
            Line((-61.9673876205, -1.967930043), (-54.5405744779, -12.7758988463))
        make_face()
    extrude(amount=F3_DEPTH)


solid = Compound([f1.part, f3.part])
